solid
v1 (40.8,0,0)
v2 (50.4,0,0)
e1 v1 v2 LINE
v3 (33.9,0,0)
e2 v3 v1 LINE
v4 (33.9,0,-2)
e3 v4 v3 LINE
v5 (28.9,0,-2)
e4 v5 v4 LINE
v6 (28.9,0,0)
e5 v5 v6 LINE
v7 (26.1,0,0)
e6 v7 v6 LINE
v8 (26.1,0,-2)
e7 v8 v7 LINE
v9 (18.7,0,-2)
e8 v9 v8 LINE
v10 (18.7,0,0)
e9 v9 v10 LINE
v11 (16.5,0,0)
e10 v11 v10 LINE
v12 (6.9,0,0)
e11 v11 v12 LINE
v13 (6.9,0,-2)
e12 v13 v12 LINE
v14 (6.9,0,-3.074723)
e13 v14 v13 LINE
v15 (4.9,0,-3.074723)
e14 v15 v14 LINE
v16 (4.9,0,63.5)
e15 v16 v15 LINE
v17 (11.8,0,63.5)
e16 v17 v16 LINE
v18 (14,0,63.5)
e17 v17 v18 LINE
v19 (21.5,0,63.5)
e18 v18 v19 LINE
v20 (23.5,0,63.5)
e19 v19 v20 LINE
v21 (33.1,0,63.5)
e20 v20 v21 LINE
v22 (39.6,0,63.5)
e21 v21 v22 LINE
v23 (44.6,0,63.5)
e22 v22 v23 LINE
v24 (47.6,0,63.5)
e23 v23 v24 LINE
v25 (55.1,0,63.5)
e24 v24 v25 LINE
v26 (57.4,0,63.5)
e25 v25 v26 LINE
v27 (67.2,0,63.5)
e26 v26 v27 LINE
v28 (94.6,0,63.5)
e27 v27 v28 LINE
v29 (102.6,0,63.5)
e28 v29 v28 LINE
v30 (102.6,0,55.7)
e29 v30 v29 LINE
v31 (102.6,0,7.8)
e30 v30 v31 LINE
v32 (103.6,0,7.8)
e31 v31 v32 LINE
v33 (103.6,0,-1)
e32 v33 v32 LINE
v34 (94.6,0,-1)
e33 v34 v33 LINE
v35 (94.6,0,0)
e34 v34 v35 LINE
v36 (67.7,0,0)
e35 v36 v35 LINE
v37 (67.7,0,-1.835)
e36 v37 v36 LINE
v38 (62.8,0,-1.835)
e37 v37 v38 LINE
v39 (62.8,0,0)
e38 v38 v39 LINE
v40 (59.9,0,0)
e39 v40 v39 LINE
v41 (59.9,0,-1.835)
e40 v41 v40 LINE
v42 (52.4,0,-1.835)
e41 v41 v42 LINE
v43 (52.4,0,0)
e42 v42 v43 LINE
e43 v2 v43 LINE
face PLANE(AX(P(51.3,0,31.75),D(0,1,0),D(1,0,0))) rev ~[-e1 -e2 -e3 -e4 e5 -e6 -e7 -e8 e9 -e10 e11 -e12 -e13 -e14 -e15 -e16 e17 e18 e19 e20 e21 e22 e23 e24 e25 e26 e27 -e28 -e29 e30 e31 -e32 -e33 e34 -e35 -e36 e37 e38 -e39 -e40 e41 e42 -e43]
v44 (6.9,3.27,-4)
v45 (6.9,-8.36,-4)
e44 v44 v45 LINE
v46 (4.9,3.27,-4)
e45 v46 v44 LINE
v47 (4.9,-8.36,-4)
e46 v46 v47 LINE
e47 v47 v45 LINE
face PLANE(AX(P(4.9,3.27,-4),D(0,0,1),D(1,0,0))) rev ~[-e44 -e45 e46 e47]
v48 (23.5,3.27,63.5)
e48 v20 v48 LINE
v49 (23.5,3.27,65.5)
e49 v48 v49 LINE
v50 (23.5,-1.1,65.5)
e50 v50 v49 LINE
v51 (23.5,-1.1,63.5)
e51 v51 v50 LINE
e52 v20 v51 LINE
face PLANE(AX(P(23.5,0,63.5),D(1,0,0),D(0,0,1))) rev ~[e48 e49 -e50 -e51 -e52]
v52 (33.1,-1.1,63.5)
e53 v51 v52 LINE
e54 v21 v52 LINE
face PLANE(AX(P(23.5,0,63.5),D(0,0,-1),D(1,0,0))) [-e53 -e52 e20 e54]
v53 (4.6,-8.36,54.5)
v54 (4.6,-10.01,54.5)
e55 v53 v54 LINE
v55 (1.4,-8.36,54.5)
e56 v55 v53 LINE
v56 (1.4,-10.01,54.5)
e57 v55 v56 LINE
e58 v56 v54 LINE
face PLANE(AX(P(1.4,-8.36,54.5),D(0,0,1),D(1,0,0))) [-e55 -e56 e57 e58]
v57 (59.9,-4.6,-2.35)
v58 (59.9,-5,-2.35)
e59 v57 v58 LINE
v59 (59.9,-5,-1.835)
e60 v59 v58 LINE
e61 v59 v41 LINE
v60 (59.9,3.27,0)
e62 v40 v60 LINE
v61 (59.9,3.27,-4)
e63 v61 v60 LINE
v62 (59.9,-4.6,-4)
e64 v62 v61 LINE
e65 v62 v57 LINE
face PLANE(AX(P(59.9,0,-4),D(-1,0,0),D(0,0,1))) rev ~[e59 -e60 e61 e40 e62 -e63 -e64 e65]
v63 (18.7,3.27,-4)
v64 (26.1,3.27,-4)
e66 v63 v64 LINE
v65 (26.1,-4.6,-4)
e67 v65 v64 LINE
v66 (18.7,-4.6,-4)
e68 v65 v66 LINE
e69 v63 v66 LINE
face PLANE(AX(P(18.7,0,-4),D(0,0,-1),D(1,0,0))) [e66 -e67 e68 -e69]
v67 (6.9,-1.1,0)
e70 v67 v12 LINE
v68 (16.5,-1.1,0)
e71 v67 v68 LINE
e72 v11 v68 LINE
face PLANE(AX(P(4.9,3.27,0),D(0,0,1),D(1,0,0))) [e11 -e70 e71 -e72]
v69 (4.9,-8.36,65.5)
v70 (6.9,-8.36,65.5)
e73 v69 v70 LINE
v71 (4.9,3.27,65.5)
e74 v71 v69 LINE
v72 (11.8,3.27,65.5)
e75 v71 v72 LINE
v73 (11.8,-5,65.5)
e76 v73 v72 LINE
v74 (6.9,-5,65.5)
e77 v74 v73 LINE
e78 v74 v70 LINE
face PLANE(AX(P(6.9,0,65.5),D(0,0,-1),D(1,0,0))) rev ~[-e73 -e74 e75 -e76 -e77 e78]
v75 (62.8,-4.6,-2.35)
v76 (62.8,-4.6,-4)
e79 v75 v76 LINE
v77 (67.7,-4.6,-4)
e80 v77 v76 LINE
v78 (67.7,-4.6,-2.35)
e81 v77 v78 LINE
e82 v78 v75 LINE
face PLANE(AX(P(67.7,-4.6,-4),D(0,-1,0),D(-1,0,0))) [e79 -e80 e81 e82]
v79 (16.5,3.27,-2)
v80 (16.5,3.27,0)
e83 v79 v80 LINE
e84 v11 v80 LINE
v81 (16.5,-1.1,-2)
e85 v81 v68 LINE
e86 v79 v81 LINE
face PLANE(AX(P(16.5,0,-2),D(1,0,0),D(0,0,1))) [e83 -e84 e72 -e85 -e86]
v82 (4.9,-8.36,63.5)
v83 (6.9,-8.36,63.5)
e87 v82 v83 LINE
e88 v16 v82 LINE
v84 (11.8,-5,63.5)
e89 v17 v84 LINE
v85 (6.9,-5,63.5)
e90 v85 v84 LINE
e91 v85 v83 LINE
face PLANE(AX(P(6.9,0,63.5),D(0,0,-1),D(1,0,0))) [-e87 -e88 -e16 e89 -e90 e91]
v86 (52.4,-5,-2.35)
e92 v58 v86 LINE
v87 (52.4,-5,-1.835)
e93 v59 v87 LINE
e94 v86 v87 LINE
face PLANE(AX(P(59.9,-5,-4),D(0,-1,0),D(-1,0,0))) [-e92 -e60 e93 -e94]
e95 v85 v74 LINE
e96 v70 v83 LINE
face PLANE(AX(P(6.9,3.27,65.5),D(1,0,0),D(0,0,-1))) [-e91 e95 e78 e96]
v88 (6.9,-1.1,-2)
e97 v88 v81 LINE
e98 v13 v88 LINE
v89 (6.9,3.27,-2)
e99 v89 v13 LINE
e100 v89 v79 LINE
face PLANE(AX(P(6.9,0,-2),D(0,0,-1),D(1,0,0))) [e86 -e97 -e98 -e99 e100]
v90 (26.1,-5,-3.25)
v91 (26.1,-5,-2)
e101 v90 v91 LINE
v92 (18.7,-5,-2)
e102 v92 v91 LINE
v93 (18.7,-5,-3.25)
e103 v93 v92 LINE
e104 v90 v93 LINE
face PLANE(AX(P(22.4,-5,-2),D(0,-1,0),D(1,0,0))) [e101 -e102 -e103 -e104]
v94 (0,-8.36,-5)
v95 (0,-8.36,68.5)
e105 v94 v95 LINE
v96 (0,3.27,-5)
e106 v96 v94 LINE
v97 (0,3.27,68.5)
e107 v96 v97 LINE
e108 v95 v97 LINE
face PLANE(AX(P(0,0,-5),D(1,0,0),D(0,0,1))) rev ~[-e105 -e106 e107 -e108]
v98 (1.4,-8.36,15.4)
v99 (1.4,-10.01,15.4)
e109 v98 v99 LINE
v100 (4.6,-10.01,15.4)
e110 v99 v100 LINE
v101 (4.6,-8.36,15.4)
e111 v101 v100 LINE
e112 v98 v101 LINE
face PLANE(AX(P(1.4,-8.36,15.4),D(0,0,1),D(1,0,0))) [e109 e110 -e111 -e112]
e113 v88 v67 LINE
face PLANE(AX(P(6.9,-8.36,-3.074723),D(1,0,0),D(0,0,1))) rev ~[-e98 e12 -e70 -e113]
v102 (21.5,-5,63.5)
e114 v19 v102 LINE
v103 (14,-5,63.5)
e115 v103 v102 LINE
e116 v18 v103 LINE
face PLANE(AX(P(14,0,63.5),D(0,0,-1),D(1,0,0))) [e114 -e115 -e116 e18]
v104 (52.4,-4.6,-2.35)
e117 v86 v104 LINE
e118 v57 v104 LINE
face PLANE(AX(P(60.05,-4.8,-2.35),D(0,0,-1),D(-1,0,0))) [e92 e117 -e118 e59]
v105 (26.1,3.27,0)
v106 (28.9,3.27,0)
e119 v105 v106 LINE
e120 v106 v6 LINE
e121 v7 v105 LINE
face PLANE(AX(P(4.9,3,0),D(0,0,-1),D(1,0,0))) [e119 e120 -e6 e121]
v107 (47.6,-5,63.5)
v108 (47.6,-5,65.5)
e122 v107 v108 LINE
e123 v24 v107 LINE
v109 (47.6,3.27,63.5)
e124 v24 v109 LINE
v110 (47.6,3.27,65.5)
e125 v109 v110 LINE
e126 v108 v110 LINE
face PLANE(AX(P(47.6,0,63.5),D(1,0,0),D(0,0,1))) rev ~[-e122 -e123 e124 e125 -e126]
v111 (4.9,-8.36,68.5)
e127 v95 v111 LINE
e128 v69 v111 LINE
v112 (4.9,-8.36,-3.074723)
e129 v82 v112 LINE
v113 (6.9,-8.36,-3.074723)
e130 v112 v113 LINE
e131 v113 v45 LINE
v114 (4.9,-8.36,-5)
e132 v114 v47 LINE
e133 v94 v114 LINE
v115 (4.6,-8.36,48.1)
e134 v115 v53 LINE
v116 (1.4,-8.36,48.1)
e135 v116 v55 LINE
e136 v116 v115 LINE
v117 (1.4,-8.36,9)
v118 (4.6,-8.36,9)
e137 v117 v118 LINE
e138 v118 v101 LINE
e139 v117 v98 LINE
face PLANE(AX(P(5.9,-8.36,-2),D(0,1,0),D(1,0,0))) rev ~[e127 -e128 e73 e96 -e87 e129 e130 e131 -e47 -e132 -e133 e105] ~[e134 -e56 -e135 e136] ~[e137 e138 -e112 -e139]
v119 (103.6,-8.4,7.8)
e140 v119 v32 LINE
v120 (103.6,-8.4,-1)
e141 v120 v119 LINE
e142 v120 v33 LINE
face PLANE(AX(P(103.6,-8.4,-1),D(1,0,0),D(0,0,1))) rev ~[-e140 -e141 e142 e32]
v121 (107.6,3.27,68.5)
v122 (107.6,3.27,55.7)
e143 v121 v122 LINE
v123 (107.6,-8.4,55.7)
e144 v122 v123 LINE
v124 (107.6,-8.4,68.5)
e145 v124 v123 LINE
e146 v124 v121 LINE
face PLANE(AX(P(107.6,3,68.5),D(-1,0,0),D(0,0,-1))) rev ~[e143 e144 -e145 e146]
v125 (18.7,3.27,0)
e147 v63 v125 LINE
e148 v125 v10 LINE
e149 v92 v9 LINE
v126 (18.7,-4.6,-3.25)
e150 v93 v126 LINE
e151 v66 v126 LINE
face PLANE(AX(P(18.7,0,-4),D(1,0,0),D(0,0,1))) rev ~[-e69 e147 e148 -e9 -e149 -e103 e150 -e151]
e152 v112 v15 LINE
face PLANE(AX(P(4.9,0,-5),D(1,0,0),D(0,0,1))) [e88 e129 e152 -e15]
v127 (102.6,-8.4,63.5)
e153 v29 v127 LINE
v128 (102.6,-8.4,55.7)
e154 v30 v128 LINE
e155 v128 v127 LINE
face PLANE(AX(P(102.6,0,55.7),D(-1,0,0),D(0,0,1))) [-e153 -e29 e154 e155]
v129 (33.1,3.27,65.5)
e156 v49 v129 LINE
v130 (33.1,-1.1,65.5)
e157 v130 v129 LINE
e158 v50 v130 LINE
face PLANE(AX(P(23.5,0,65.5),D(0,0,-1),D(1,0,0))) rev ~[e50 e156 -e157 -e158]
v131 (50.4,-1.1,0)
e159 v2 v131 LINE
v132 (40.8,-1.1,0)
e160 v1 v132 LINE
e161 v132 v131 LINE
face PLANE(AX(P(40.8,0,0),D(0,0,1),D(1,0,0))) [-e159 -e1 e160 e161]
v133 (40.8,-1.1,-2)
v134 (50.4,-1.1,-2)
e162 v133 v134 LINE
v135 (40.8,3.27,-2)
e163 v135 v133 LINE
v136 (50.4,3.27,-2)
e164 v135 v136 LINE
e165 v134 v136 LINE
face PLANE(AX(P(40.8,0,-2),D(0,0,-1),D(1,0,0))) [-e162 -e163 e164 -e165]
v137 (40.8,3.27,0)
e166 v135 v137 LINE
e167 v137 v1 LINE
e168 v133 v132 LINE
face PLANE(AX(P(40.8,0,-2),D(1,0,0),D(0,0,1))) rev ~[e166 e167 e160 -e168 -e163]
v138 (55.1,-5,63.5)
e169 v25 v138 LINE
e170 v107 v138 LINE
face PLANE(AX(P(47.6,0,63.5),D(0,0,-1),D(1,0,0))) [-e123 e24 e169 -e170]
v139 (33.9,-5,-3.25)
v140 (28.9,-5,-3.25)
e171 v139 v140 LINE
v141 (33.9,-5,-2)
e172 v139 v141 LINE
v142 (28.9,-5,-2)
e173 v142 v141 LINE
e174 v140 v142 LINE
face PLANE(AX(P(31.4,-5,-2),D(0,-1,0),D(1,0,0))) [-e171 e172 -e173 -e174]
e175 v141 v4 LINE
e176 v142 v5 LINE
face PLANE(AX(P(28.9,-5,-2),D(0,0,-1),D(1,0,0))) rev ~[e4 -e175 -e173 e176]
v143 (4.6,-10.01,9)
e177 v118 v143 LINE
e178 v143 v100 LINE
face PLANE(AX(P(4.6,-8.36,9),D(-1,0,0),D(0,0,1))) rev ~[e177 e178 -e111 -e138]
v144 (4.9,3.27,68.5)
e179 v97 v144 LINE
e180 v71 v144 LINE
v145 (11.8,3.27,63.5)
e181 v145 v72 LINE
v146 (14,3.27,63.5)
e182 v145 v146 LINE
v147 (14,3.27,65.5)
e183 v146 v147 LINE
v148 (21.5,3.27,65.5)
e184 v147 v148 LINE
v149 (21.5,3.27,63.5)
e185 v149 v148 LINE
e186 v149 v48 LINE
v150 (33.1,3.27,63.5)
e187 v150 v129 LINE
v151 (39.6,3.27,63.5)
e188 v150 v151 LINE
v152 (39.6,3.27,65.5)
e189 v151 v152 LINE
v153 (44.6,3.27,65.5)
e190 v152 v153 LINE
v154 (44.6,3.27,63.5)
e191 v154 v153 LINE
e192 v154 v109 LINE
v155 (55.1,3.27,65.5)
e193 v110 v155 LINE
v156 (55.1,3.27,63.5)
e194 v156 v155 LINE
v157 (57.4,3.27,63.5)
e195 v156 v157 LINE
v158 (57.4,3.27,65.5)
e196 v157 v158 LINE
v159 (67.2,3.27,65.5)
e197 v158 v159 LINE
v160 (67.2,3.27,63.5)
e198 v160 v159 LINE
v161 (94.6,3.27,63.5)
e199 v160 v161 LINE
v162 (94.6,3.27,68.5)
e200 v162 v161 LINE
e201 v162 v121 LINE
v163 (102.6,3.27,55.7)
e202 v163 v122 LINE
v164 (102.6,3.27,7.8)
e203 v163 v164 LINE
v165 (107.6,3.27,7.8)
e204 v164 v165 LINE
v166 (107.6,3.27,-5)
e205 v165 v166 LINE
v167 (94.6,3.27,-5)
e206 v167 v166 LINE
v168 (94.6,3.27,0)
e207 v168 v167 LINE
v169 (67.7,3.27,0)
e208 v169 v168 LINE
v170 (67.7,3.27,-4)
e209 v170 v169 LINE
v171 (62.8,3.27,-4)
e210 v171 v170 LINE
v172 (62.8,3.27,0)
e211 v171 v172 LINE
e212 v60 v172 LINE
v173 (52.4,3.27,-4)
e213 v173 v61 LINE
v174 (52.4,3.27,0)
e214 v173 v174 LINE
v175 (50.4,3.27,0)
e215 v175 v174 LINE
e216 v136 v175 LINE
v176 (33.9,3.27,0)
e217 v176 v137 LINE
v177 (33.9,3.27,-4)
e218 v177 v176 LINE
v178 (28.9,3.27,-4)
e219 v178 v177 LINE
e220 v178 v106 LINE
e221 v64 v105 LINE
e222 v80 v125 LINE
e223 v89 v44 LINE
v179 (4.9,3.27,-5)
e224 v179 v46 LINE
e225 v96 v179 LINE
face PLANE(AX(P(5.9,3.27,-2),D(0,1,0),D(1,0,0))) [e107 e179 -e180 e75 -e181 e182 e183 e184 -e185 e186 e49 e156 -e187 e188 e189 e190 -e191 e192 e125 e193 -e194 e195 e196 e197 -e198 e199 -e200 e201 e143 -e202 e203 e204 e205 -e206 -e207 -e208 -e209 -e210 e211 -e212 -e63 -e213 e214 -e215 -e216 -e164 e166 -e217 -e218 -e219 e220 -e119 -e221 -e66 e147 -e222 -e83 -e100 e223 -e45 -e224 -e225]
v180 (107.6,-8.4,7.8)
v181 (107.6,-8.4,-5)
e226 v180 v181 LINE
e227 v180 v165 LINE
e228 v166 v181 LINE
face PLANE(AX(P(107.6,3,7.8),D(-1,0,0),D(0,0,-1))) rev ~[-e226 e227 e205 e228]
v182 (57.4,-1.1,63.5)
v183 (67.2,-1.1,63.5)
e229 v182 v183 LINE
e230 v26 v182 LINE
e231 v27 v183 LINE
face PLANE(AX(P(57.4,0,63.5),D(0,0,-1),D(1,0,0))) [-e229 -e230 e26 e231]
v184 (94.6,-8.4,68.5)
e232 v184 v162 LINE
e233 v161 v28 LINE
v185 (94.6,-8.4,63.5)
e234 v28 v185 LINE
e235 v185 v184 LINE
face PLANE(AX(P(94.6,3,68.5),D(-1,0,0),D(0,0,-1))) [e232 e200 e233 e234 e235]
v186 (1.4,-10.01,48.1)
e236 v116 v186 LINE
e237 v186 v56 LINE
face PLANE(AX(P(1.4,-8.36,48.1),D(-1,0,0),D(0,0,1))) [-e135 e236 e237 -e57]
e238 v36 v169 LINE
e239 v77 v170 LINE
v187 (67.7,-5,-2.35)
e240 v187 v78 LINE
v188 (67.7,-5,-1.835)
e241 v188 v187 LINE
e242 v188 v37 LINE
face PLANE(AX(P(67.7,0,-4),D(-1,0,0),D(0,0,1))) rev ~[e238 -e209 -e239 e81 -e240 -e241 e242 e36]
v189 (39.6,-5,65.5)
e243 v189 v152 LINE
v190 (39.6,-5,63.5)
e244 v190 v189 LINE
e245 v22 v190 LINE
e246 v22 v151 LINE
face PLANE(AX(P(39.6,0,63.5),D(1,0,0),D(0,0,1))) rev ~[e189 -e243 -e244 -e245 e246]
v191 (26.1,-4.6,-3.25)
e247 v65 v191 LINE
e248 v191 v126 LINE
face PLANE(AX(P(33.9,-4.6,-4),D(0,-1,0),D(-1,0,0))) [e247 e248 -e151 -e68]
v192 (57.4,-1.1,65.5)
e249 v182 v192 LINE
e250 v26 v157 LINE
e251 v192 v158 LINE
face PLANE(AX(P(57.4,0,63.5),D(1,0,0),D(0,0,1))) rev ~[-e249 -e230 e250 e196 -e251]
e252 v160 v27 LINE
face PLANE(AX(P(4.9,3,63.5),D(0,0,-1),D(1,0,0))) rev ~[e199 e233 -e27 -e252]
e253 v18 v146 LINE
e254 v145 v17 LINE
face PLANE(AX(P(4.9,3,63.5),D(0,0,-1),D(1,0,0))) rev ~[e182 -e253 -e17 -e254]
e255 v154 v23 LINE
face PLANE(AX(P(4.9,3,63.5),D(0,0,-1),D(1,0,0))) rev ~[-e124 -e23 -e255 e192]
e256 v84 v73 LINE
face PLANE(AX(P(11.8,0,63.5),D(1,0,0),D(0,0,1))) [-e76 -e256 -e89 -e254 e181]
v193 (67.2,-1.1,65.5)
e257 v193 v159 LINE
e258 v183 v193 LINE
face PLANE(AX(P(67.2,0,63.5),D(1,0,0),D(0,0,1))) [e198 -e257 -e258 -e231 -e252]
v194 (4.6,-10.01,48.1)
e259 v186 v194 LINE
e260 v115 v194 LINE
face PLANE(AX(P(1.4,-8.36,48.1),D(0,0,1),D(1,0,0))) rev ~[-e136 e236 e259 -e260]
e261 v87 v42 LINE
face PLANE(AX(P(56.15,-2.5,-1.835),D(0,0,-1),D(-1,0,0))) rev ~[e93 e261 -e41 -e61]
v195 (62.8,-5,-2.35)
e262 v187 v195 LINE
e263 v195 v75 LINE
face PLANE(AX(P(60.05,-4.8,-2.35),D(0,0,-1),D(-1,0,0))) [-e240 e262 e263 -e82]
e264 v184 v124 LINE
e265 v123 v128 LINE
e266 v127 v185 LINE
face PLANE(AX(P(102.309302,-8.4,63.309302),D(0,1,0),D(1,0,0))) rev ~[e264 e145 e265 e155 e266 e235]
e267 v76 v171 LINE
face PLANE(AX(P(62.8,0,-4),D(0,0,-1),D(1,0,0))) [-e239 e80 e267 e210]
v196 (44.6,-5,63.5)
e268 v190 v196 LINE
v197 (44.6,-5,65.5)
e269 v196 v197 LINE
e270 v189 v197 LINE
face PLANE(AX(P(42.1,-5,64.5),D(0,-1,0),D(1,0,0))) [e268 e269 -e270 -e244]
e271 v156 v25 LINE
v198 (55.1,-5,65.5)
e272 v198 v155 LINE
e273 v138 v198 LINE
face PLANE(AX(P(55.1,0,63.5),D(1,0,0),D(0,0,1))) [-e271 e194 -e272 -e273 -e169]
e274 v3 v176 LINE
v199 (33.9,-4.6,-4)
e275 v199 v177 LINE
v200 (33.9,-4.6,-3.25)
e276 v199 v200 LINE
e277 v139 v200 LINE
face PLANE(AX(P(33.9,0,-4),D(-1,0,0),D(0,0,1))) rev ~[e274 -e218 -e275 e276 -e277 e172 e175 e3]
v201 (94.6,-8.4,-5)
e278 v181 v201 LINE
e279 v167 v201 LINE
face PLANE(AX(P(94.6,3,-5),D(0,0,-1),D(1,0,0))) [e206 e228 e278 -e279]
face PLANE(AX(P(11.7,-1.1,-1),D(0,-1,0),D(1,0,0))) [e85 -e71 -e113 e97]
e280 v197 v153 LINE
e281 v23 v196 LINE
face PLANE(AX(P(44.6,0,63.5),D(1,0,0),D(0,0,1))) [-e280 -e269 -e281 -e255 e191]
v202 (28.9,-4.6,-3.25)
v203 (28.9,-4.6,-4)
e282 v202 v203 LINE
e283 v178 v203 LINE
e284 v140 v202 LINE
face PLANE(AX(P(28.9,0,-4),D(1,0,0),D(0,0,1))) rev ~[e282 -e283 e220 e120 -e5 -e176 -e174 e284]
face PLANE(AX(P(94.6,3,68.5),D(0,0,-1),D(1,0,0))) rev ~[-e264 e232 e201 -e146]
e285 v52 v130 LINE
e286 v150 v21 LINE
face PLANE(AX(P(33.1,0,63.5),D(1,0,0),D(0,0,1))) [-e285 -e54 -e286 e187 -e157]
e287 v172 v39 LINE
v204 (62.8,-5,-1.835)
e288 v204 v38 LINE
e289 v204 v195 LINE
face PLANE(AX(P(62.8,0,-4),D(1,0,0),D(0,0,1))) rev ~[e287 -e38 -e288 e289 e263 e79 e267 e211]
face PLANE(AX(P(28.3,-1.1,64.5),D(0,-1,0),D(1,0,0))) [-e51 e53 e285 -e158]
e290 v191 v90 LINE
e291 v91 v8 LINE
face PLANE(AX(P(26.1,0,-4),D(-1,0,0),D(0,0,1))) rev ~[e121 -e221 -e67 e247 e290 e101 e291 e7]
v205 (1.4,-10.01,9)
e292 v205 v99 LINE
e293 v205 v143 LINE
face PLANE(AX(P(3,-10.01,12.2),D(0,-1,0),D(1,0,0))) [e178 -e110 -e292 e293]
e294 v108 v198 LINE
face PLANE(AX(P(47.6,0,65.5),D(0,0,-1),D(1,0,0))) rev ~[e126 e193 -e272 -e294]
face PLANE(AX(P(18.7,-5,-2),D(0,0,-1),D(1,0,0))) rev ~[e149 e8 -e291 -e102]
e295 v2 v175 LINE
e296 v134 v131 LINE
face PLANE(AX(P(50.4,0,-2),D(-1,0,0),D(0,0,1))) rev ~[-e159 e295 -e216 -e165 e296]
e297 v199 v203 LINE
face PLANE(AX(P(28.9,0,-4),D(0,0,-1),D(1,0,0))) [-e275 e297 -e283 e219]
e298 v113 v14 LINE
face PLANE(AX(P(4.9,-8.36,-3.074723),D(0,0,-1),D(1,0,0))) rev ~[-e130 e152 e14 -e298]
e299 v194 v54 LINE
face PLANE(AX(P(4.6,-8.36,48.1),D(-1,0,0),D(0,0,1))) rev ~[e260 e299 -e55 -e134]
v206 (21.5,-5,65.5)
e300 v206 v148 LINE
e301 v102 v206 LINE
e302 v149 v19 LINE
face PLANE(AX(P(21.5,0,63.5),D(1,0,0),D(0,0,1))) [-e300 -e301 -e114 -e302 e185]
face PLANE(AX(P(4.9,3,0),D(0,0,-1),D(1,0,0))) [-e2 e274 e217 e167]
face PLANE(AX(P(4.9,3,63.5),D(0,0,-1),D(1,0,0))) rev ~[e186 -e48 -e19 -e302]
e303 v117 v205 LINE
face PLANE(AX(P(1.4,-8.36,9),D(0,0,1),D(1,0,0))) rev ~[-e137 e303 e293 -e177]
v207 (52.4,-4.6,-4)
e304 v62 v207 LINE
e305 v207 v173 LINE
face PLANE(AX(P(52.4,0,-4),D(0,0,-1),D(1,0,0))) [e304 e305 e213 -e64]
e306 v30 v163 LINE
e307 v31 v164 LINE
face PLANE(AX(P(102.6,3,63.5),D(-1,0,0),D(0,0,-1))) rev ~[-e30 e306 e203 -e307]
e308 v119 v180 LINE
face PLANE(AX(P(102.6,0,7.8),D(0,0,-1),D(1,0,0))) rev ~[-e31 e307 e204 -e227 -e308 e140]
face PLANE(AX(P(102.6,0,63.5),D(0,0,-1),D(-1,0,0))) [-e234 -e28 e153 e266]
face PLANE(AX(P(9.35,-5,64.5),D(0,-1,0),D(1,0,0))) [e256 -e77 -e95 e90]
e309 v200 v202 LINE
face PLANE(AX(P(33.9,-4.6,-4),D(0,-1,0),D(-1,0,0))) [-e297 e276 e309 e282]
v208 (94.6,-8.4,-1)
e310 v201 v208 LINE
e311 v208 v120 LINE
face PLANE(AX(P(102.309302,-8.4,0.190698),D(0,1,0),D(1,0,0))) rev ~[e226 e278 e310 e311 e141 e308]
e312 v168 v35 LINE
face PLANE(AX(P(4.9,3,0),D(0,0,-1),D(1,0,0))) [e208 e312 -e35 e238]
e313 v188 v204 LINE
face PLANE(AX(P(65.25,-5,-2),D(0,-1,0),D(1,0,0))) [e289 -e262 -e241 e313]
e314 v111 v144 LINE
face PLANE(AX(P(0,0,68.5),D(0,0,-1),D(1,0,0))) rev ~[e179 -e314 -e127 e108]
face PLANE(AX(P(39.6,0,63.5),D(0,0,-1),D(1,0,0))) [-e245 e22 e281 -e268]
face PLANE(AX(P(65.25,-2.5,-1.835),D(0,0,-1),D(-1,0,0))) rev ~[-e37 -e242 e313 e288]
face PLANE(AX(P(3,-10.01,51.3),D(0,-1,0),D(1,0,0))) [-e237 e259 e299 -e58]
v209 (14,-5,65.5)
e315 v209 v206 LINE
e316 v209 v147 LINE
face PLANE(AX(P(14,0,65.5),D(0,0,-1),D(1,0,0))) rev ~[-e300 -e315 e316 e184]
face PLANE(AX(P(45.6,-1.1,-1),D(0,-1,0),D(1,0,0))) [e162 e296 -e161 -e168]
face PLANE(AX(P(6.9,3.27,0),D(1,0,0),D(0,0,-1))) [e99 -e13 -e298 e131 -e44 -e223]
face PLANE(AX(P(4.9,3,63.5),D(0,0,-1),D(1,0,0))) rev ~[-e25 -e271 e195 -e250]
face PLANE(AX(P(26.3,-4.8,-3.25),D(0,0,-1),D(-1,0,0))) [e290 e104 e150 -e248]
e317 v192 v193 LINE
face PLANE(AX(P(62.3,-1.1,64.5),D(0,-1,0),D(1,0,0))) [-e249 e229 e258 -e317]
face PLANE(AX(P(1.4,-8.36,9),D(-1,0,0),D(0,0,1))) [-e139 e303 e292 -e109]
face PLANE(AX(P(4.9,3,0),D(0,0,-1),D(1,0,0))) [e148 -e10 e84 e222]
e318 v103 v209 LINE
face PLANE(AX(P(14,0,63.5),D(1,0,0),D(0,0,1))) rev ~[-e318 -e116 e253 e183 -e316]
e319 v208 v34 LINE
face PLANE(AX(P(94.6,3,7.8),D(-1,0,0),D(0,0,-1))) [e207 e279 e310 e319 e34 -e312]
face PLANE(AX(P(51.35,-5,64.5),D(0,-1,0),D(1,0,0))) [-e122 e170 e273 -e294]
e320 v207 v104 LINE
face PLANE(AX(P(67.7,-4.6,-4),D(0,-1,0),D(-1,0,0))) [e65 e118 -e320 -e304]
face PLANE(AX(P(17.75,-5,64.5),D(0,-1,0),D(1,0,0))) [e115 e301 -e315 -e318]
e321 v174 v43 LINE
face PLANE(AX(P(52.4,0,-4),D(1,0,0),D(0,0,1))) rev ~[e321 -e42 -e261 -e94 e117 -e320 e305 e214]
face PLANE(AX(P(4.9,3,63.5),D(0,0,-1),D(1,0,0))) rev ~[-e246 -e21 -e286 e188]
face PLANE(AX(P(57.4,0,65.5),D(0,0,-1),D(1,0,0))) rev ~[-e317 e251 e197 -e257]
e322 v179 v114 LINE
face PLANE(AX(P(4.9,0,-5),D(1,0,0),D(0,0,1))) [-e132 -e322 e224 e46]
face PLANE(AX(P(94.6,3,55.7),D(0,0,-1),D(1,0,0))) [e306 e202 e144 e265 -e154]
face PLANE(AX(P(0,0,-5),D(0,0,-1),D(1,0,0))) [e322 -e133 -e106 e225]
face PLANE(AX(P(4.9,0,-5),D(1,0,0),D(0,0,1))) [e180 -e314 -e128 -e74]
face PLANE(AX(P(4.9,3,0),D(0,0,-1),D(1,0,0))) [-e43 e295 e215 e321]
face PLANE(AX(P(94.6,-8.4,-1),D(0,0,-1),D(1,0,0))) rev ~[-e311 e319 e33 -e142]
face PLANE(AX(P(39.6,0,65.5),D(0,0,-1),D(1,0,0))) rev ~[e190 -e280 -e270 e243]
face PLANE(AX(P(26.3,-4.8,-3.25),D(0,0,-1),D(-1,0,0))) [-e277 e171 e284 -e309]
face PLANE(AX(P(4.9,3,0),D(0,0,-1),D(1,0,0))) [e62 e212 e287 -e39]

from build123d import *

# Parameters (mm, degrees)
CORNERS_DEPTH                      = 8.4
CORNERS_2_DEPTH                    = 8.4
SKETCH2_W                          = 102.6
SKETCH2_H                          = 63.5
MASTER_DEPTH                       = 3
SKETCH3_W                          = 4.9
SKETCH3_H                          = 73.5
END_TAB_DEPTH                      = 8.36
END_TAB_DEPTH_BACK                 = 3.27
SKETCH4_W                          = 3.2
SKETCH4_H                          = 6.4
MALE_CONNECTORS_DEPTH              = 1.65
SKETCH5_W                          = 9.6
SKETCH5_H                          = 2
SKETCH5_W_2                        = 7.4
SKETCH5_H_2                        = 4
SKETCH5_W_3                        = 5
SKETCH5_W_4                        = 7.5
SKETCH5_W_5                        = 4.9
RIGHT_TERMINALS_DEPTH              = 5
RIGHT_TERMINALS_DEPTH_BACK         = 3.27
SKETCH7_W                          = 4.9
SKETCH7_H                          = 2
LEFT_TERMINALS_DEPTH               = 5
LEFT_TERMINALS_DEPTH_BACK          = 3.27
SKETCH7_W_2                        = 7.5
LEFT_TERMINALS_2_DEPTH             = 5
LEFT_TERMINALS_2_DEPTH_BACK        = 3.27
SKETCH7_W_3                        = 9.6
LEFT_TERMINALS_3_DEPTH             = 5
LEFT_TERMINALS_3_DEPTH_BACK        = 3.27
SKETCH7_W_4                        = 5
LEFT_TERMINALS_4_DEPTH             = 5
LEFT_TERMINALS_4_DEPTH_BACK        = 3.27
LEFT_TERMINALS_5_DEPTH             = 5
LEFT_TERMINALS_5_DEPTH_BACK        = 3.27
SKETCH7_W_5                        = 9.8
LEFT_TERMINALS_6_DEPTH             = 5
LEFT_TERMINALS_6_DEPTH_BACK        = 3.27
SKETCH8_W                          = 9.6
SKETCH8_H                          = 2
GOLD_PLATE_ADJUSTMENTS_RIGHT_DEPTH = 3.9
SKETCH9_W                          = 9.6
SKETCH9_H                          = 2
SKETCH9_W_2                        = 9.8
GOLD_PLATE_ADJUSTMENTS_LEFT_DEPTH  = 3.9
CORNER_ADJUSTMENT_DEPTH            = 3
SKETCH13_W                         = 97.7
SKETCH13_H                         = 63.5
BOSS_EXTRUDE1_DEPTH                = 0.27
SKETCH14_W                         = 13
SKETCH14_H                         = 12.8
BOSS_EXTRUDE2_DEPTH                = 0.27
SKETCH17_W                         = 7.4
SKETCH17_H                         = 2
SKETCH17_W_2                       = 5
SKETCH17_W_3                       = 7.5
SKETCH17_W_4                       = 4.9
CUT_EXTRUDE2_DEPTH                 = 5
SKETCH19_W                         = 15.2
SKETCH19_H                         = 0.4
CUT_EXTRUDE4_DEPTH                 = 0.75
SKETCH20_W                         = 4.9
SKETCH20_H                         = 5
SKETCH20_W_2                       = 7.5
BOSS_EXTRUDE5_DEPTH                = 2.165
SKETCH15_W                         = 2
SKETCH15_H                         = 4
SKETCH15_H_2                       = 2
BOSS_EXTRUDE3_DEPTH                = 11.63
SKETCH21_W                         = 15.3
SKETCH21_H                         = 0.4
CUT_EXTRUDE5_DEPTH                 = 1.65
SKETCH22_W                         = 2
SKETCH22_H                         = 3.074722715
CUT_EXTRUDE7_DEPTH                 = 8.36
SKETCH23_W                         = 9
SKETCH23_H                         = 8.8
CUT_EXTRUDE8_DEPTH                 = 8.4


with BuildPart() as part:
    # Sketch1 → Corners (new body)
    with BuildSketch(Plane(origin=(0, 0, 0), x_dir=(1, 0, 0), z_dir=(0, 1, 0))):
        Polygon((102.6, -63.5), (94.6, -63.5), (94.6, -68.5), (107.6, -68.5), (107.6, -55.7), (102.6, -55.7), align=None)
    extrude(amount=-CORNERS_DEPTH)



with BuildPart() as body_2:
    # Sketch1 → Corners 2 (new body)
    with BuildSketch(Plane(origin=(0, 0, 0), x_dir=(1, 0, 0), z_dir=(0, 1, 0))):
        Polygon((94.6, 5), (94.6, 0), (102.6, 0), (102.6, -7.8), (107.6, -7.8), (107.6, 5), align=None)
    extrude(amount=-CORNERS_2_DEPTH)


with BuildPart() as body_3:
    # Sketch2 → Master (new body)
    with BuildSketch(Plane(origin=(0, 0, 0), x_dir=(1, 0, 0), z_dir=(0, 1, 0))):
        with Locations((51.3, -31.75)):
            Rectangle(SKETCH2_W, SKETCH2_H)
    extrude(amount=MASTER_DEPTH)

    # Sketch3 → End Tab (add, two sides)
    with BuildSketch(Plane.XZ) as end_tab_sk:
        with Locations((2.45, 31.75)):
            Rectangle(SKETCH3_W, SKETCH3_H)
    extrude(amount=END_TAB_DEPTH)
    extrude(end_tab_sk.sketch, amount=-END_TAB_DEPTH_BACK)

    # Sketch4 → Male Connectors (add)
    with BuildSketch(Plane.XZ.offset(8.36)):
        with Locations((3, 12.2)):
            Rectangle(SKETCH4_W, SKETCH4_H)
        with Locations((3, 51.3)):
            Rectangle(SKETCH4_W, SKETCH4_H)
    extrude(amount=MALE_CONNECTORS_DEPTH)

    # Sketch5 → Right Terminals (add, two sides)
    with BuildSketch(Plane.XZ) as right_terminals_sk:
        with Locations((11.7, -1)):
            Rectangle(SKETCH5_W, SKETCH5_H)
        with Locations((22.4, -2)):
            Rectangle(SKETCH5_W_2, SKETCH5_H_2)
        with Locations((31.4, -2)):
            Rectangle(SKETCH5_W_3, SKETCH5_H_2)
        with Locations((45.6, -1)):
            Rectangle(SKETCH5_W, SKETCH5_H)
        with Locations((56.15, -2)):
            Rectangle(SKETCH5_W_4, SKETCH5_H_2)
        with Locations((65.25, -2)):
            Rectangle(SKETCH5_W_5, SKETCH5_H_2)
    extrude(amount=RIGHT_TERMINALS_DEPTH)
    extrude(right_terminals_sk.sketch, amount=-RIGHT_TERMINALS_DEPTH_BACK)

    # Sketch8 → Gold Plate Adjustments (Right) (cut)
    with BuildSketch(Plane.XZ.offset(5)):
        with Locations((11.7, -1)):
            Rectangle(SKETCH8_W, SKETCH8_H)
        with Locations((45.6, -1)):
            Rectangle(SKETCH8_W, SKETCH8_H)
    extrude(amount=-GOLD_PLATE_ADJUSTMENTS_RIGHT_DEPTH, mode=Mode.SUBTRACT)


with BuildPart() as body_4:
    # Sketch7 → Left Terminals (new body, two sides)
    with BuildSketch(Plane.XZ) as left_terminals_sk:
        with Locations((9.35, 64.5)):
            Rectangle(SKETCH7_W, SKETCH7_H)
    extrude(amount=LEFT_TERMINALS_DEPTH)
    extrude(left_terminals_sk.sketch, amount=-LEFT_TERMINALS_DEPTH_BACK)


with BuildPart() as body_5:
    # Sketch7 → Left Terminals 2 (new body, two sides)
    with BuildSketch(Plane.XZ) as left_terminals_2_sk:
        with Locations((17.75, 64.5)):
            Rectangle(SKETCH7_W_2, SKETCH7_H)
    extrude(amount=LEFT_TERMINALS_2_DEPTH)
    extrude(left_terminals_2_sk.sketch, amount=-LEFT_TERMINALS_2_DEPTH_BACK)


with BuildPart() as body_6:
    # Sketch7 → Left Terminals 3 (new body, two sides)
    with BuildSketch(Plane.XZ) as left_terminals_3_sk:
        with Locations((28.3, 64.5)):
            Rectangle(SKETCH7_W_3, SKETCH7_H)
    extrude(amount=LEFT_TERMINALS_3_DEPTH)
    extrude(left_terminals_3_sk.sketch, amount=-LEFT_TERMINALS_3_DEPTH_BACK)


with BuildPart() as body_7:
    # Sketch7 → Left Terminals 4 (new body, two sides)
    with BuildSketch(Plane.XZ) as left_terminals_4_sk:
        with Locations((42.1, 64.5)):
            Rectangle(SKETCH7_W_4, SKETCH7_H)
    extrude(amount=LEFT_TERMINALS_4_DEPTH)
    extrude(left_terminals_4_sk.sketch, amount=-LEFT_TERMINALS_4_DEPTH_BACK)


with BuildPart() as body_8:
    # Sketch7 → Left Terminals 5 (new body, two sides)
    with BuildSketch(Plane.XZ) as left_terminals_5_sk:
        with Locations((51.35, 64.5)):
            Rectangle(SKETCH7_W_2, SKETCH7_H)
    extrude(amount=LEFT_TERMINALS_5_DEPTH)
    extrude(left_terminals_5_sk.sketch, amount=-LEFT_TERMINALS_5_DEPTH_BACK)


with BuildPart() as body_9:
    # Sketch7 → Left Terminals 6 (new body, two sides)
    with BuildSketch(Plane.XZ) as left_terminals_6_sk:
        with Locations((62.3, 64.5)):
            Rectangle(SKETCH7_W_5, SKETCH7_H)
    extrude(amount=LEFT_TERMINALS_6_DEPTH)
    extrude(left_terminals_6_sk.sketch, amount=-LEFT_TERMINALS_6_DEPTH_BACK)


with BuildPart() as gold_plate_adjustments_left_tool:
    # Sketch9 → Gold Plate Adjustments (Left) (new body)
    with BuildSketch(Plane.XZ.offset(5)):
        with Locations((28.3, 64.5)):
            Rectangle(SKETCH9_W, SKETCH9_H)
        with Locations((62.3, 64.5)):
            Rectangle(SKETCH9_W_2, SKETCH9_H)
    extrude(amount=-GOLD_PLATE_ADJUSTMENTS_LEFT_DEPTH)


with BuildPart() as body_6_1:
    add(body_6.part)

    # Gold Plate Adjustments (Left): cut by gold_plate_adjustments_left_tool
    add(gold_plate_adjustments_left_tool.part, mode=Mode.SUBTRACT)


with BuildPart() as body_9_1:
    add(body_9.part)

    # Gold Plate Adjustments (Left): cut by gold_plate_adjustments_left_tool
    add(gold_plate_adjustments_left_tool.part, mode=Mode.SUBTRACT)


with BuildPart() as part_1:
    add(part.part)

    add(body_2.part)  # Corner Adjustment merges body 2

    add(body_3.part)  # Corner Adjustment merges body 3
    # Sketch10 → Corner Adjustment (add)
    with BuildSketch(Plane(origin=(0, 0, 0), x_dir=(1, 0, 0), z_dir=(0, 1, 0))):
        Polygon((102.6, -7.8), (107.6, -7.8), (107.6, 5), (94.6, 5), (94.6, 0), (102.6, 0), align=None)
        Polygon((102.6, -55.7), (107.6, -55.7), (107.6, -68.5), (94.6, -68.5), (94.6, -63.5), (102.6, -63.5), align=None)
    extrude(amount=CORNER_ADJUSTMENT_DEPTH)


    add(body_4.part)  # Boss-Extrude1 merges body 4

    add(body_5.part)  # Boss-Extrude1 merges body 5

    add(body_6_1.part)  # Boss-Extrude1 merges body 6

    add(body_7.part)  # Boss-Extrude1 merges body 7

    add(body_8.part)  # Boss-Extrude1 merges body 8

    add(body_9_1.part)  # Boss-Extrude1 merges body 9
    # Sketch13 → Boss-Extrude1 (add)
    with BuildSketch(Plane(origin=(0, 3, 0), x_dir=(1, 0, 0), z_dir=(0, 1, 0))):
        with Locations((53.75, -31.75)):
            Rectangle(SKETCH13_W, SKETCH13_H)
    extrude(amount=BOSS_EXTRUDE1_DEPTH)

    # Sketch14 → Boss-Extrude2 (add)
    with BuildSketch(Plane(origin=(0, 3, 0), x_dir=(1, 0, 0), z_dir=(0, 1, 0))):
        with Locations((101.1, -62.1)):
            Rectangle(SKETCH14_W, SKETCH14_H)
        with Locations((101.1, -1.4)):
            Rectangle(SKETCH14_W, SKETCH14_H)
    extrude(amount=BOSS_EXTRUDE2_DEPTH)

    # Sketch17 → Cut-Extrude2 (cut)
    with BuildSketch(Plane.XZ.offset(5)):
        with Locations((22.4, -1)):
            Rectangle(SKETCH17_W, SKETCH17_H)
        with Locations((31.4, -1)):
            Rectangle(SKETCH17_W_2, SKETCH17_H)
        with Locations((56.15, -1)):
            Rectangle(SKETCH17_W_3, SKETCH17_H)
        with Locations((65.25, -1)):
            Rectangle(SKETCH17_W_4, SKETCH17_H)
    extrude(amount=-CUT_EXTRUDE2_DEPTH, mode=Mode.SUBTRACT)

    # Sketch19 → Cut-Extrude4 (cut)
    with BuildSketch(Plane(origin=(0, 0, -4), x_dir=(-1, 0, 0), z_dir=(0, 0, -1))):
        with Locations((-26.3, -4.8)):
            Rectangle(SKETCH19_W, SKETCH19_H)
    extrude(amount=-CUT_EXTRUDE4_DEPTH, mode=Mode.SUBTRACT)

    # Sketch20 → Boss-Extrude5 (add)
    with BuildSketch(Plane(origin=(0, 0, -4), x_dir=(-1, 0, 0), z_dir=(0, 0, -1))):
        with Locations((-65.25, -2.5)):
            Rectangle(SKETCH20_W, SKETCH20_H)
        with Locations((-56.15, -2.5)):
            Rectangle(SKETCH20_W_2, SKETCH20_H)
    extrude(amount=-BOSS_EXTRUDE5_DEPTH)

    # Sketch15 → Boss-Extrude3 (add)
    with BuildSketch(Plane(origin=(0, 3.27, 0), x_dir=(1, 0, 0), z_dir=(0, 1, 0))):
        with Locations((5.9, 2)):
            Rectangle(SKETCH15_W, SKETCH15_H)
        with Locations((5.9, -64.5)):
            Rectangle(SKETCH15_W, SKETCH15_H_2)
    extrude(amount=-BOSS_EXTRUDE3_DEPTH)

    # Sketch21 → Cut-Extrude5 (cut)
    with BuildSketch(Plane(origin=(0, 0, -4), x_dir=(-1, 0, 0), z_dir=(0, 0, -1))):
        with Locations((-60.05, -4.8)):
            Rectangle(SKETCH21_W, SKETCH21_H)
    extrude(amount=-CUT_EXTRUDE5_DEPTH, mode=Mode.SUBTRACT)

    # Sketch22 → Cut-Extrude7 (cut)
    with BuildSketch(Plane.XZ.offset(8.36)):
        with Locations((5.9, -1.537361358)):
            Rectangle(SKETCH22_W, SKETCH22_H)
    extrude(amount=-CUT_EXTRUDE7_DEPTH, mode=Mode.SUBTRACT)

    # Sketch23 → Cut-Extrude8 (cut)
    with BuildSketch(Plane.XZ.offset(8.4)):
        with Locations((99.1, 3.4)):
            Rectangle(SKETCH23_W, SKETCH23_H)
    extrude(amount=-CUT_EXTRUDE8_DEPTH, mode=Mode.SUBTRACT)


solid = part_1.part
